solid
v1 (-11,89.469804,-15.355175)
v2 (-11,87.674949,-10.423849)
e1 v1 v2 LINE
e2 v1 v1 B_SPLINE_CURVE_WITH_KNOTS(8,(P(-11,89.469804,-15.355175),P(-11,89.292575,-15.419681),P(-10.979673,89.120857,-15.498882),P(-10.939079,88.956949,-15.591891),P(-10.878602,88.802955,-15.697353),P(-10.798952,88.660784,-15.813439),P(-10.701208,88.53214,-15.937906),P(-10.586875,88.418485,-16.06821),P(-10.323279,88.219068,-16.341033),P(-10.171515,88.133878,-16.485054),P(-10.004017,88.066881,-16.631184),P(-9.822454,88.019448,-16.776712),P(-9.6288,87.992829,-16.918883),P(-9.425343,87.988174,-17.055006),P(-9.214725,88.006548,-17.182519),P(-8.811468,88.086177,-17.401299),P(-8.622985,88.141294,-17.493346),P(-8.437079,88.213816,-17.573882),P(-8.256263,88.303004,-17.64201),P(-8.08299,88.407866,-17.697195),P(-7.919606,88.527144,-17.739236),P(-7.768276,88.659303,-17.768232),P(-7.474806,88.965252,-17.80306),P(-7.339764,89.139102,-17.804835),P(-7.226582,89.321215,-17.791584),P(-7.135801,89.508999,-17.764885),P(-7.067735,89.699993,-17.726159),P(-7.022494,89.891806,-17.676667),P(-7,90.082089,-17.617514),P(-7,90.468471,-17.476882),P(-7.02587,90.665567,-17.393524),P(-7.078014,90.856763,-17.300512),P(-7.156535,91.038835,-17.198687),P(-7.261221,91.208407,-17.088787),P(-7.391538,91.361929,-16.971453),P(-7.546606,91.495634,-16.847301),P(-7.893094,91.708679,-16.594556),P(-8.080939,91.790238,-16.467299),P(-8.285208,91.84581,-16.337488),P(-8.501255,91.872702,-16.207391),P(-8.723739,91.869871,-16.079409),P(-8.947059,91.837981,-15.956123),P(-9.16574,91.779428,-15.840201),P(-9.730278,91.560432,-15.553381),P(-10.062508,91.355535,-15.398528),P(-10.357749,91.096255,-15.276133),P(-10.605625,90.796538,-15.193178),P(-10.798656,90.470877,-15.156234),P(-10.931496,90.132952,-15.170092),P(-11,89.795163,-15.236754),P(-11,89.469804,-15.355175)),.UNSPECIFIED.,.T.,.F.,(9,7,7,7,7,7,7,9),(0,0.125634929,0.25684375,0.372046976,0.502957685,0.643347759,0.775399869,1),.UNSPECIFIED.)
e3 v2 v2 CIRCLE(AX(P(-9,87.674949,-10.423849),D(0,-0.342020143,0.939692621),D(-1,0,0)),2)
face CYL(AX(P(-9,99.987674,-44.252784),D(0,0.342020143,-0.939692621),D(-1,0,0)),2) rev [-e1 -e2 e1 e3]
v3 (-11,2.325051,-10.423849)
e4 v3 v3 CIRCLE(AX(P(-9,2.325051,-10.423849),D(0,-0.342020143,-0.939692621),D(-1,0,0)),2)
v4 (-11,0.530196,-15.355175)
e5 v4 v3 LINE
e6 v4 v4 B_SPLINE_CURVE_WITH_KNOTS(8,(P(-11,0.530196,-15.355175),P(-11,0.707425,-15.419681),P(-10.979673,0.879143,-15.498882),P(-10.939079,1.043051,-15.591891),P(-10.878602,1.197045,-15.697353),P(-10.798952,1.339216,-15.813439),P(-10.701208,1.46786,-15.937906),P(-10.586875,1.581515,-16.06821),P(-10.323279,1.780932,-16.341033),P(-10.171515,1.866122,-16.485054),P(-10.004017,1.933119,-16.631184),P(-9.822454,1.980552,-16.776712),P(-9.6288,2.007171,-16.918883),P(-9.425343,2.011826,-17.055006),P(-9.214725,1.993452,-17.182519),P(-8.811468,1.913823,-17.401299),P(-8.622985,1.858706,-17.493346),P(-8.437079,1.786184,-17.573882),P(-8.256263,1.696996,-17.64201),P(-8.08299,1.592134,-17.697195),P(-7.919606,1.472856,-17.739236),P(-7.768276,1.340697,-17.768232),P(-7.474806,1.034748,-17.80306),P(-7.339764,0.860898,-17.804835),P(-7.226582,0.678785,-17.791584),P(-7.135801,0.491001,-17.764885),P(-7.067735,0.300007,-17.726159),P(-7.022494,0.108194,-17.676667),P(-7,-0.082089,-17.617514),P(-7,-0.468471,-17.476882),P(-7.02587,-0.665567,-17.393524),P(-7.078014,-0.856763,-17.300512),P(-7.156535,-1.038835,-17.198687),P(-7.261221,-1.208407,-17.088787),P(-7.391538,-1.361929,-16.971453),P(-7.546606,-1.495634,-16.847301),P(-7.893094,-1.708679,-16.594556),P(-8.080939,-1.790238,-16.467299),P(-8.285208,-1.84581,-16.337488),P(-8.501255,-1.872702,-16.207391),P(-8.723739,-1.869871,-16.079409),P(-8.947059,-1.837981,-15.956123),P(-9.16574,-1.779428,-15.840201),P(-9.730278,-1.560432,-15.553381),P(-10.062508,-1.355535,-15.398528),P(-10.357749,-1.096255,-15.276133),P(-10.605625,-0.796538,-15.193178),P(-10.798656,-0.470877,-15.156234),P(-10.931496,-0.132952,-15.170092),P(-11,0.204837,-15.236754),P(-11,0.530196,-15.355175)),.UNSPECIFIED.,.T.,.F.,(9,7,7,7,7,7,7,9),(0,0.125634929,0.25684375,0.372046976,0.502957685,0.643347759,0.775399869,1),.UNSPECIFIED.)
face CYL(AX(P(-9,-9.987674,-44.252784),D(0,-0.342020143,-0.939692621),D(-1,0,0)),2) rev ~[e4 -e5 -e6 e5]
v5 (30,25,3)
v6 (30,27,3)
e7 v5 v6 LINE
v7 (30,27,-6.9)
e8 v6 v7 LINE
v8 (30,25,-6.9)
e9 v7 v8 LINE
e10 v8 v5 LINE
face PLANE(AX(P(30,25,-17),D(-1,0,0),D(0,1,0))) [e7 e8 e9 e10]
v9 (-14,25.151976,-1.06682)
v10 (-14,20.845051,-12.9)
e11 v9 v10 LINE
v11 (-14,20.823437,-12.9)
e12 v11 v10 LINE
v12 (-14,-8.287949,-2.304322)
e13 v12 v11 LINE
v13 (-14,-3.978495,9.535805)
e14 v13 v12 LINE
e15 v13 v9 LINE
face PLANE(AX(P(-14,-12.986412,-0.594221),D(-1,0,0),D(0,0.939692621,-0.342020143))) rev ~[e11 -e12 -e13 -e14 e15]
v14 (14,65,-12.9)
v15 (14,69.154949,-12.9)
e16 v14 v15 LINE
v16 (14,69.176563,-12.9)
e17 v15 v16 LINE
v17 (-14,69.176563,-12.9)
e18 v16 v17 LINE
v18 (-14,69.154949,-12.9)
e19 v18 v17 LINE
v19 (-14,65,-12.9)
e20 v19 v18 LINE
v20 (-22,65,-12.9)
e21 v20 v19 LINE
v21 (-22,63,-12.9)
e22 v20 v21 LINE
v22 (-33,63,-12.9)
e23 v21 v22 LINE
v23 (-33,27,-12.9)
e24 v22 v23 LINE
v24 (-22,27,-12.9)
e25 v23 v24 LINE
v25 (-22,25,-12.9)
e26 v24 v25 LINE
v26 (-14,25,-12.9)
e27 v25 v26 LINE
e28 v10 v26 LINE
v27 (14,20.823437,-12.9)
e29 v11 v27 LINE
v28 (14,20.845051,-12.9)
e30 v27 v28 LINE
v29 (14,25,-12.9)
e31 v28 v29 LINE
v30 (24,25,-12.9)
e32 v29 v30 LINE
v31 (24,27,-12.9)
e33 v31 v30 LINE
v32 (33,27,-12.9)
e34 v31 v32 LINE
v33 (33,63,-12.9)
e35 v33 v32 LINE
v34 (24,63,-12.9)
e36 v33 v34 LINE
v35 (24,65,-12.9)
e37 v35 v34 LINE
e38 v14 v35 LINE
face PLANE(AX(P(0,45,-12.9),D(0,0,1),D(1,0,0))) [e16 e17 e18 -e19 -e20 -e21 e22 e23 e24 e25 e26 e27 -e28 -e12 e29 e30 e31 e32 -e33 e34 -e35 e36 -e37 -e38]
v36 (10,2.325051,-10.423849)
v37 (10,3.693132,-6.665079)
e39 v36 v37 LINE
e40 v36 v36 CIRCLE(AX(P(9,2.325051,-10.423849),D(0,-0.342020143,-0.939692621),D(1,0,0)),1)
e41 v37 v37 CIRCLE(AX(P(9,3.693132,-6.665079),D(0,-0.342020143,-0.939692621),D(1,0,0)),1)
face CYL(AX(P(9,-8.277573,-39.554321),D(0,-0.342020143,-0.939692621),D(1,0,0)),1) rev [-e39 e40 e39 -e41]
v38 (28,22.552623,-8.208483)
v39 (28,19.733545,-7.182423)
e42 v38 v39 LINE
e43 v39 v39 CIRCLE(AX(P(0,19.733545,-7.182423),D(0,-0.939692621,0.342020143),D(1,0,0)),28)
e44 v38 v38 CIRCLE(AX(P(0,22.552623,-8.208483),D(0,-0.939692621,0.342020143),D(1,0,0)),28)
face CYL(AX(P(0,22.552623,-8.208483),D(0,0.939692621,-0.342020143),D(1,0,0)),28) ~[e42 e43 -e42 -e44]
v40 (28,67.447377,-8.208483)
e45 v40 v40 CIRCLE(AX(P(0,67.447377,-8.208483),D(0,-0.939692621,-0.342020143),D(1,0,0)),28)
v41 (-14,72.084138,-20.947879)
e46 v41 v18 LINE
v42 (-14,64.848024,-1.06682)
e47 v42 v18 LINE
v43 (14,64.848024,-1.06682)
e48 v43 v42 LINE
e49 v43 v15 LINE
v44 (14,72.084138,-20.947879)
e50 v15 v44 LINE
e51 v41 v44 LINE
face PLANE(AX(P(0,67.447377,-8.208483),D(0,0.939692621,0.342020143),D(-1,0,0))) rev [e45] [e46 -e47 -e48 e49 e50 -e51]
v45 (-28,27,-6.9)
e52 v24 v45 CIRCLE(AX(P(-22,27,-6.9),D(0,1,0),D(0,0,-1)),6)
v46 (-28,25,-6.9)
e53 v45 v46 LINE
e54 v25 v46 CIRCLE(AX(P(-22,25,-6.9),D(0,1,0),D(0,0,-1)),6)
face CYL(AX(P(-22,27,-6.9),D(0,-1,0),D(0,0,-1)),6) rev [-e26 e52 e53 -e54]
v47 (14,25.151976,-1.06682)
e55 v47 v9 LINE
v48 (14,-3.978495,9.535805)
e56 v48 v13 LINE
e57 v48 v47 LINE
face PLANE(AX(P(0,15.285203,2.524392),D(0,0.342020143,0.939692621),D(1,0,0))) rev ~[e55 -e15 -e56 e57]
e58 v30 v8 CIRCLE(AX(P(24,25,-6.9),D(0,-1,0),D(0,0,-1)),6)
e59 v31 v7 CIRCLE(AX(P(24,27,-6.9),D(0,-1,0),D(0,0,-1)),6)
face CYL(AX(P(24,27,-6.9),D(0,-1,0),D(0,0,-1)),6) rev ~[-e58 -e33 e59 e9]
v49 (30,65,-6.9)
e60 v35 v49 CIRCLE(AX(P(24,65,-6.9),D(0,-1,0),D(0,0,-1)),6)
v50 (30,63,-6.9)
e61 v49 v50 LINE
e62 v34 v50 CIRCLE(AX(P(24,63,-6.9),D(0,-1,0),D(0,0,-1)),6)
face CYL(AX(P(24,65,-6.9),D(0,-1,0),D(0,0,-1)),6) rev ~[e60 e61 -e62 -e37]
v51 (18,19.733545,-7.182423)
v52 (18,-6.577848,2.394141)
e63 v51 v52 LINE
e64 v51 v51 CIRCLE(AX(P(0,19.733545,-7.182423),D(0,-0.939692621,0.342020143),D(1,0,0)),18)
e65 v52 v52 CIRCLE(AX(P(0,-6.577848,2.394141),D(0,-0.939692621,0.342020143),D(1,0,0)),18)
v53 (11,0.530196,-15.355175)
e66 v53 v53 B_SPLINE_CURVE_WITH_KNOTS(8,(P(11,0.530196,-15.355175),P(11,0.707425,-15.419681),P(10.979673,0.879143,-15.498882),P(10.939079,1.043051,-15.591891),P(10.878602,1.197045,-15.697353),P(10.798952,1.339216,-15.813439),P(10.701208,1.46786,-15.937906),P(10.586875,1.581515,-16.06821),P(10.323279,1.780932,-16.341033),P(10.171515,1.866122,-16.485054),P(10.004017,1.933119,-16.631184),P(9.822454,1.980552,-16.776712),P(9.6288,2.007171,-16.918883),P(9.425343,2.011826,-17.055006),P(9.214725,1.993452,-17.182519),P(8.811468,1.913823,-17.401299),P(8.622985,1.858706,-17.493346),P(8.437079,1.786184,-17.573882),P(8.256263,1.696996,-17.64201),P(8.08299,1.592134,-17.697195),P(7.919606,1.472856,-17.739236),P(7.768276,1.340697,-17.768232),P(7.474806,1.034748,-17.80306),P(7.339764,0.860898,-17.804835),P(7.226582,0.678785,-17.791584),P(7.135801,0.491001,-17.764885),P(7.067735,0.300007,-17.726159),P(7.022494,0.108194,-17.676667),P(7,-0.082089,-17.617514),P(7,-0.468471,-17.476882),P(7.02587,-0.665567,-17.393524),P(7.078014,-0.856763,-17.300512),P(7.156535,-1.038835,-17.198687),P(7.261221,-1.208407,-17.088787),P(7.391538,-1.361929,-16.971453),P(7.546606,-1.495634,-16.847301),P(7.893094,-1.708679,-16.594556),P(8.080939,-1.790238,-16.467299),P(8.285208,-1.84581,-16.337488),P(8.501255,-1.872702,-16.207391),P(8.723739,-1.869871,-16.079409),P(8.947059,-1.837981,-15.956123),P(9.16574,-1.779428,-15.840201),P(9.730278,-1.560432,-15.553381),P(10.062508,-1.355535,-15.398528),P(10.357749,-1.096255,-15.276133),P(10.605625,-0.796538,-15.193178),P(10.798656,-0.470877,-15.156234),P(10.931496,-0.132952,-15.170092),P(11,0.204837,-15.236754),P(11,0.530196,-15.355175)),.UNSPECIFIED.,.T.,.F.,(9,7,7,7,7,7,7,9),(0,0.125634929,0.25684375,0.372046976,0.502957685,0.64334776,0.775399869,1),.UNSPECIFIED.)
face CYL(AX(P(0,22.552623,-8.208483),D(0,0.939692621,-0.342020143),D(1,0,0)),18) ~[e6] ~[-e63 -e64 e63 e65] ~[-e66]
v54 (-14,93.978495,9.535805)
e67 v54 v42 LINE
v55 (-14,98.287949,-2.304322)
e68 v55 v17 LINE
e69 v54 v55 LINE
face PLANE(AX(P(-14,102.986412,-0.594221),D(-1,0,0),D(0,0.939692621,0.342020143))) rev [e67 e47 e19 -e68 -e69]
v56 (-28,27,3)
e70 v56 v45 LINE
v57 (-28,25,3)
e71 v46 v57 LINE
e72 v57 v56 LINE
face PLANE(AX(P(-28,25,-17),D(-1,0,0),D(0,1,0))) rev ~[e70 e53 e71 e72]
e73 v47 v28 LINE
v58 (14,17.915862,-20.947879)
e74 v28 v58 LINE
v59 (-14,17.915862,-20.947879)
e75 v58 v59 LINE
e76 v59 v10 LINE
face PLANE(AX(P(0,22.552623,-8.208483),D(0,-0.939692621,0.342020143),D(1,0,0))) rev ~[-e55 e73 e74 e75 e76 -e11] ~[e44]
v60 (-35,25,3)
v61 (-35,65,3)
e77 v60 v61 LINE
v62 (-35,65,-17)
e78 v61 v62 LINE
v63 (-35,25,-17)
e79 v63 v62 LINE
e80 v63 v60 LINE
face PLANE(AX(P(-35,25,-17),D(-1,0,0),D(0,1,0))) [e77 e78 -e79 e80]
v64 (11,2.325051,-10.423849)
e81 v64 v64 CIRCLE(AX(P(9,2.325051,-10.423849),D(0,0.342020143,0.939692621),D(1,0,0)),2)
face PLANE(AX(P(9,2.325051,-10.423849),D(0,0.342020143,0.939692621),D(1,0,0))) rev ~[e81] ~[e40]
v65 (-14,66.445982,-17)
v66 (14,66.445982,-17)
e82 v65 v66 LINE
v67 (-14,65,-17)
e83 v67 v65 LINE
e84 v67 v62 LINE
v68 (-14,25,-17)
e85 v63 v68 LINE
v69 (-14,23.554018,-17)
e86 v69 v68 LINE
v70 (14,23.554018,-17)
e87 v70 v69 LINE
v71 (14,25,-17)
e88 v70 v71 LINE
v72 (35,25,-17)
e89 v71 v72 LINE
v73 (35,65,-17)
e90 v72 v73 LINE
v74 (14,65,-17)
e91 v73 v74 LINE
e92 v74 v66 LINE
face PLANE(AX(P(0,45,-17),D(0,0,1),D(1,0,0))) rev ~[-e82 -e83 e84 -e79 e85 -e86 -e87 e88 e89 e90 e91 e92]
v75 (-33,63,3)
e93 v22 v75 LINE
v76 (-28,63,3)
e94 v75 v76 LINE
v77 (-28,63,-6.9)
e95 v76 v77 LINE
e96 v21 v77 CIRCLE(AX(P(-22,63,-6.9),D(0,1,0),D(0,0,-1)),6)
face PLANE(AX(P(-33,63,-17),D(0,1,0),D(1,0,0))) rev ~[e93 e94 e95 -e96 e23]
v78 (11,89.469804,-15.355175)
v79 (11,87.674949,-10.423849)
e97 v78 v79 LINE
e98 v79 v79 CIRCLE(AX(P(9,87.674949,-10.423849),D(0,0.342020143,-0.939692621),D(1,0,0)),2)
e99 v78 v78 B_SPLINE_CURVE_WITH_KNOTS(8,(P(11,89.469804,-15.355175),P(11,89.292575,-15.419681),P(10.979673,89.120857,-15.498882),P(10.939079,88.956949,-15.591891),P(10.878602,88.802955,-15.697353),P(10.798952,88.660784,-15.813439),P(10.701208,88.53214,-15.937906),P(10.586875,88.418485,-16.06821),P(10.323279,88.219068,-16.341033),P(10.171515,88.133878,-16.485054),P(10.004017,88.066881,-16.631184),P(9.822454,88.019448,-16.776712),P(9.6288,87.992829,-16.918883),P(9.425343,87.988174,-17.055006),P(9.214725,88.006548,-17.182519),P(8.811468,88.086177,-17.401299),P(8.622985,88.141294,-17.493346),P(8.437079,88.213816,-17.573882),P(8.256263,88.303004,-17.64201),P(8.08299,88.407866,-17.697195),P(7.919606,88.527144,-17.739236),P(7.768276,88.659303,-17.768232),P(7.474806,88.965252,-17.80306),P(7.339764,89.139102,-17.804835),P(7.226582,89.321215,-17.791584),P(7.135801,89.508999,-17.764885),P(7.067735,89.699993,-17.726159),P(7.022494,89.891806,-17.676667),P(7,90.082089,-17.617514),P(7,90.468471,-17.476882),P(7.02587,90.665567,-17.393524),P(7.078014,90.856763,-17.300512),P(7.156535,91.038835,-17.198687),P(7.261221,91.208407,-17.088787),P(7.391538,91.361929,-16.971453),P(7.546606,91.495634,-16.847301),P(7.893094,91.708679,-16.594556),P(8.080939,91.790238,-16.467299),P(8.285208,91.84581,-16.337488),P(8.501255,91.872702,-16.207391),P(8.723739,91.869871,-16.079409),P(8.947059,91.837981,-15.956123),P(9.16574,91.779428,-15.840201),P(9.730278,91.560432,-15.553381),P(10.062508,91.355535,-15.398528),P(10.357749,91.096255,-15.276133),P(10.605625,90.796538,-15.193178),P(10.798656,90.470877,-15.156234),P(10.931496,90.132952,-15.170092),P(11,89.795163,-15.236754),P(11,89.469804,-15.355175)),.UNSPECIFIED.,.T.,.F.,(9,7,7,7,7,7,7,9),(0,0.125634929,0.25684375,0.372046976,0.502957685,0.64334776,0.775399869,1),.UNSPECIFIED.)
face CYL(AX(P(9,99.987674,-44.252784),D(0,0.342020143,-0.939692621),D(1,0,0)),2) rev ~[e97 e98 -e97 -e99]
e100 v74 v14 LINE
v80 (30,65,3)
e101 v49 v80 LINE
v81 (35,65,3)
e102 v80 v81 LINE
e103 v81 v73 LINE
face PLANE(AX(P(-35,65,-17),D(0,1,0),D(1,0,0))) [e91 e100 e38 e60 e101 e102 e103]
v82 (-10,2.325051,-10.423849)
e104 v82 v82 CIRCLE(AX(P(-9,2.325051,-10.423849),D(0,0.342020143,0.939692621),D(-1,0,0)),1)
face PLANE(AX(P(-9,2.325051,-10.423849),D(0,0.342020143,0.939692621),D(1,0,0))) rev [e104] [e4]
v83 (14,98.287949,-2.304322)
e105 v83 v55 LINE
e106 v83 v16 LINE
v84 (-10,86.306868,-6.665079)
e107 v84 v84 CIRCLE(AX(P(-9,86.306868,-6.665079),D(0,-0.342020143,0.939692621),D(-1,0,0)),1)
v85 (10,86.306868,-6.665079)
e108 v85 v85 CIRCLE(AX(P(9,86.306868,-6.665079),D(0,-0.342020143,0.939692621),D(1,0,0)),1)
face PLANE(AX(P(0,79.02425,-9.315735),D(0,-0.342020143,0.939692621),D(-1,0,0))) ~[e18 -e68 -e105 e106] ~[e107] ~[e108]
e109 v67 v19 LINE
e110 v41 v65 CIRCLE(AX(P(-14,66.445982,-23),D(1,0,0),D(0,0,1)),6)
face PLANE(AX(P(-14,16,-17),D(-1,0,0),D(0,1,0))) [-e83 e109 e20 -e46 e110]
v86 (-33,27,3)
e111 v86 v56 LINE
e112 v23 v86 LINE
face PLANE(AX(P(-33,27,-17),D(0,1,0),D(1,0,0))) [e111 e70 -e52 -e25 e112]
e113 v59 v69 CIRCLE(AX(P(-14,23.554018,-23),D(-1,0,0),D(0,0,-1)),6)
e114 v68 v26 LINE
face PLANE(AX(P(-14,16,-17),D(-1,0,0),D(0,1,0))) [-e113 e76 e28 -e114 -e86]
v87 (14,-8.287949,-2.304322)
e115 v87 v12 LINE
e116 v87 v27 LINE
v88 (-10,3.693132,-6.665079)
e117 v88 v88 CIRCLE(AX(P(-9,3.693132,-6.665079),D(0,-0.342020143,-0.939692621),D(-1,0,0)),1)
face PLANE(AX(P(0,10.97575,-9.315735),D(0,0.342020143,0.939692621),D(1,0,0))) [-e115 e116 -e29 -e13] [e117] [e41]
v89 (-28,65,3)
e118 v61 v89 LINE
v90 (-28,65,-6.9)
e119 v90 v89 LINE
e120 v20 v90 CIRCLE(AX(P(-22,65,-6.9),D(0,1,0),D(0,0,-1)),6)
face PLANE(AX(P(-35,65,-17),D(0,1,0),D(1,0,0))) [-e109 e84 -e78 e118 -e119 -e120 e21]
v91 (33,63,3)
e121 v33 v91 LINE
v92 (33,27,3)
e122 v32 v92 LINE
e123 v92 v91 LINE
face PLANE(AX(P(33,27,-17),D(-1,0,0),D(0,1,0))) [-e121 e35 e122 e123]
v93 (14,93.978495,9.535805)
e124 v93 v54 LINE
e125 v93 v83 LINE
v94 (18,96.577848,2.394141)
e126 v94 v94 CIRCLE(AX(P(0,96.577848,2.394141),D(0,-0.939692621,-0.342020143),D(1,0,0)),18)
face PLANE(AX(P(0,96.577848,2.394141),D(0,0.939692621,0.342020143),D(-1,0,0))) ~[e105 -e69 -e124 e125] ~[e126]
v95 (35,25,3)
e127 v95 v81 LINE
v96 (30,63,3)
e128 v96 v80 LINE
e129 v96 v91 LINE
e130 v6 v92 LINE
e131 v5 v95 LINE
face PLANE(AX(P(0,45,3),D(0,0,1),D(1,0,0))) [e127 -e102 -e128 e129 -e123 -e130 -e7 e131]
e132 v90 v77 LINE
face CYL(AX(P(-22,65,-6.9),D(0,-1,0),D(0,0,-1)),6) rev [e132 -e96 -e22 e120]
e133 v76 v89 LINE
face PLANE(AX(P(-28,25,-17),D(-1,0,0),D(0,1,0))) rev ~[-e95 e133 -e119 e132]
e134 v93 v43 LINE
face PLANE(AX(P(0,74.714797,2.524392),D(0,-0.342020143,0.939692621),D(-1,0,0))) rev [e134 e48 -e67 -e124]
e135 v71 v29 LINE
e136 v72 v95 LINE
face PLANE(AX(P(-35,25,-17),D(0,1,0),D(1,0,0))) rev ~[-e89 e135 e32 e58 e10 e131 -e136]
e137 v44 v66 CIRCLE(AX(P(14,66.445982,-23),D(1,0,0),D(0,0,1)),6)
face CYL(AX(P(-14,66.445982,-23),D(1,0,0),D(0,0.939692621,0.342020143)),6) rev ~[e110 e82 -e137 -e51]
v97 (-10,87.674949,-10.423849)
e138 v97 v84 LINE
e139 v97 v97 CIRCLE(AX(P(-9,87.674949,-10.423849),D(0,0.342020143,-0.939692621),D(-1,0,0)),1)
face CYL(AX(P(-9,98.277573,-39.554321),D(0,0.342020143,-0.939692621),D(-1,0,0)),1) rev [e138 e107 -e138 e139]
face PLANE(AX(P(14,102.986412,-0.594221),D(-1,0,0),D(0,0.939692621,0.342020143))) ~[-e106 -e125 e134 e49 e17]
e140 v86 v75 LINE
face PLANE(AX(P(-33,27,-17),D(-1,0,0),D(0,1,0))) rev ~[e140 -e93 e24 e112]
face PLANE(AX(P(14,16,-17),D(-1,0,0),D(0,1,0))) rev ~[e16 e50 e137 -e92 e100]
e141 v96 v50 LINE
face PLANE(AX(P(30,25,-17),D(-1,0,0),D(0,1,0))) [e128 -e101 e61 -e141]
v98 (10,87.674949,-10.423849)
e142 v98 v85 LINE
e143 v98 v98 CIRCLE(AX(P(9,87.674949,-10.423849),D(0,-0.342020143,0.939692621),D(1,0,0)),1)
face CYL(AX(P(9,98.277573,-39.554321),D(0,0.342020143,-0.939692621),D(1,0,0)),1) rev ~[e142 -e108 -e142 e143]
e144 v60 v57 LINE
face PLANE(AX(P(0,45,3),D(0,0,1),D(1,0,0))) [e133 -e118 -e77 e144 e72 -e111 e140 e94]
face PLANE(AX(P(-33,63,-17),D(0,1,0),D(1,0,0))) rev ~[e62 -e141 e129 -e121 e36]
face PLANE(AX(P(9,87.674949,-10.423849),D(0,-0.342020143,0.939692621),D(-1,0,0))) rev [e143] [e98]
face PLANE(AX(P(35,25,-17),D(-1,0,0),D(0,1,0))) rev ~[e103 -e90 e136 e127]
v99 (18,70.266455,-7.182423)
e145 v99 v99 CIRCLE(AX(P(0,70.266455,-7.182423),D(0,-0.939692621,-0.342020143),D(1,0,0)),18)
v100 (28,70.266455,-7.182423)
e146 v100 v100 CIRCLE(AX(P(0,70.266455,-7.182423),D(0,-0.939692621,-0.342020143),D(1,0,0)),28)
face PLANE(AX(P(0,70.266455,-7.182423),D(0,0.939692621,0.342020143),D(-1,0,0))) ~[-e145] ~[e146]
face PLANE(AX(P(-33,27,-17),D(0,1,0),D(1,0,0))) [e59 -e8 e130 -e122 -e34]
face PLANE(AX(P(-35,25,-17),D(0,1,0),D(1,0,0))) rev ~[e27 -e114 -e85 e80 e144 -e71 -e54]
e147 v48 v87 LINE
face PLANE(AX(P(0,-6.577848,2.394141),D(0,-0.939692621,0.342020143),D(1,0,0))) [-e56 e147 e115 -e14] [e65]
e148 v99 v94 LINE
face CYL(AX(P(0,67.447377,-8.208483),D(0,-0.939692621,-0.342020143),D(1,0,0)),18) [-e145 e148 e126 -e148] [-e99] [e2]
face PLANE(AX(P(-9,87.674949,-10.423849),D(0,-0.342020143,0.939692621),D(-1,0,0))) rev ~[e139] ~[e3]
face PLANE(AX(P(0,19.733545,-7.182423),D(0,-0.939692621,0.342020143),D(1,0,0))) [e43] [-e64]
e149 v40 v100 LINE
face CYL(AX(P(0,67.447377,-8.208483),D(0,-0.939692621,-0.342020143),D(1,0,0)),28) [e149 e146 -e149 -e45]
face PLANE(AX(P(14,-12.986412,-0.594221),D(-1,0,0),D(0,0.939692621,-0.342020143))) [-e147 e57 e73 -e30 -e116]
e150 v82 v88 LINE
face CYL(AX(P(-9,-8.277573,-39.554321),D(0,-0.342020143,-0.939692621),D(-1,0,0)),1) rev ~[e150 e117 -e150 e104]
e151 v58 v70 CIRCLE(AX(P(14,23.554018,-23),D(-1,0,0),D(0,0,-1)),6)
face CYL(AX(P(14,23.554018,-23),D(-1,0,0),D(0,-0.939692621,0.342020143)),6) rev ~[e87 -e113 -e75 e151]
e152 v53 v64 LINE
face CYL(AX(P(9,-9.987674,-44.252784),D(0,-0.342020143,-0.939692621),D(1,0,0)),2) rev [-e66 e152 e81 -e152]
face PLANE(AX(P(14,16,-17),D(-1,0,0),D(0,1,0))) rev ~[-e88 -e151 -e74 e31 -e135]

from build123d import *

# Parameters (mm, degrees)
BOX005_W               = 66
BOX005_H               = 36
BOX005_DEPTH           = 20
BOX006_W               = 58
BOX006_H               = 40
BOX006_DEPTH           = 20
BOX004_W               = 70
BOX004_H               = 40
BOX004_DEPTH           = 20
BOX002_W               = 28
BOX002_H               = 58
BOX002_DEPTH           = 4.1
BOX003_W               = 70
BOX003_H               = 40
BOX003_DEPTH           = 4.1
CYLINDER007_R          = 1
CYLINDER007_DEPTH      = 36
CYLINDER006_R          = 2
CYLINDER006_DEPTH      = 36
BOX_W                  = 16
BOX_H                  = 26
BOX_DEPTH              = 12
FILLET006_R            = 1
BOX001_W               = 28
BOX001_H               = 51
BOX001_DEPTH           = 12.6
CYLINDER005_R          = 18
CYLINDER005_DEPTH      = 31
CYLINDER005_ROLL_ANGLE = 90.0000000001
CYLINDER008_R          = 18
CYLINDER008_DEPTH      = 3
CYLINDER008_ROLL_ANGLE = 90.0000000001
CYLINDER009_R          = 28
CYLINDER009_DEPTH      = 3
CYLINDER009_ROLL_ANGLE = 90.0000000001
FUSION005_ROLL_ANGLE   = -20
FILLET_R               = 6
FILLET008_R            = 6


with BuildPart() as cubo005:
    # Box005 → Box005 (new body)
    with BuildSketch(Plane(origin=(-33, 27, -17), x_dir=(1, 0, 0), z_dir=(0, 0, 1))):
        with Locations((33, 18)):
            Rectangle(BOX005_W, BOX005_H)
    extrude(amount=BOX005_DEPTH)


with BuildPart() as fusion006:
    # Box006 → Box006 (new body)
    with BuildSketch(Plane(origin=(-28, 25, -17), x_dir=(1, 0, 0), z_dir=(0, 0, 1))):
        with Locations((29, 20)):
            Rectangle(BOX006_W, BOX006_H)
    extrude(amount=BOX006_DEPTH)

    # Fusion006: union Cubo005
    add(cubo005.part)


with BuildPart() as cut009:
    # Box004 → Box004 (new body)
    with BuildSketch(Plane(origin=(-35, 25, -17), x_dir=(1, 0, 0), z_dir=(0, 0, 1))):
        with Locations((35, 20)):
            Rectangle(BOX004_W, BOX004_H)
    extrude(amount=BOX004_DEPTH)

    # Cut009: cut Fusion006
    add(fusion006.part, mode=Mode.SUBTRACT)


with BuildPart() as cubo002:
    # Box002 → Box002 (new body)
    with BuildSketch(Plane(origin=(-14, 16, -17), x_dir=(1, 0, 0), z_dir=(0, 0, 1))):
        with Locations((14, 29)):
            Rectangle(BOX002_W, BOX002_H)
    extrude(amount=BOX002_DEPTH)


with BuildPart() as fusion007:
    # Box003 → Box003 (new body)
    with BuildSketch(Plane(origin=(-35, 25, -17), x_dir=(1, 0, 0), z_dir=(0, 0, 1))):
        with Locations((35, 20)):
            Rectangle(BOX003_W, BOX003_H)
    extrude(amount=BOX003_DEPTH)

    # Fusion007: union Cut009, Cubo002
    add(cut009.part)
    add(cubo002.part)


with BuildPart() as cilindro007:
    # Cylinder007 → Cylinder007 (new body)
    with BuildSketch(Plane(origin=(9, 5.75, -40), x_dir=(1, 0, 0), z_dir=(0, 0, 1))):
        Circle(CYLINDER007_R)
    extrude(amount=CYLINDER007_DEPTH)


with BuildPart() as fusion003:
    # Cylinder006 → Cylinder006 (new body)
    with BuildSketch(Plane(origin=(9, 5.75, -45), x_dir=(1, 0, 0), z_dir=(0, 0, 1))):
        Circle(CYLINDER006_R)
    extrude(amount=CYLINDER006_DEPTH)

    # Fusion003: union Cilindro007
    add(cilindro007.part)


with BuildPart() as fusion004:
    # Part__Mirroring: instance of Fusion003
    add(fusion003.part.mirror(Plane(origin=(0, 0, 0), x_dir=(0, -1, 0), z_dir=(1, 0, 0))))

    # Fusion004: union Fusion003
    add(fusion003.part)


with BuildPart() as fillet006:
    # Box → Box (new body)
    with BuildSketch(Plane(origin=(-8, -8, -5), x_dir=(1, 0, 0), z_dir=(0, 0, 1))):
        with Locations((8, 13)):
            Rectangle(BOX_W, BOX_H)
    extrude(amount=BOX_DEPTH)

    # Fillet006
    fillet006_edges = [fillet006.edges().sort_by_distance(p)[0] for p in [
        (-8, 5, 7),
        (8, 5, 7),
    ]]
    fillet(fillet006_edges, radius=FILLET006_R)


with BuildPart() as fusion002:
    # Box001 → Box001 (new body)
    with BuildSketch(Plane(origin=(-14, -12, -5), x_dir=(1, 0, 0), z_dir=(0, 0, 1))):
        with Locations((14, 25.5)):
            Rectangle(BOX001_W, BOX001_H)
    extrude(amount=BOX001_DEPTH)

    # Fusion002: union Fillet006
    add(fillet006.part)


with BuildPart() as cut004:
    # Cylinder005 → Cylinder005 (new body)
    with BuildSketch(Plane.XY):
        Circle(CYLINDER005_R)
    extrude(amount=CYLINDER005_DEPTH)


with BuildPart() as cut004_1:
    # Cylinder005 roll: moved
    add(cut004.part.rotate(Axis((0, 0, 0), (1, 0, 0)), CYLINDER005_ROLL_ANGLE))


with BuildPart() as cut004_2:
    # Cylinder005 placement: moved
    add(cut004_1.part.moved(Location((0, 24, 0))))

    # Cut003: cut Fusion002
    add(fusion002.part, mode=Mode.SUBTRACT)

    # Cut004: cut Fusion004
    add(fusion004.part, mode=Mode.SUBTRACT)


with BuildPart() as cilindro008:
    # Cylinder008 → Cylinder008 (new body)
    with BuildSketch(Plane.XY):
        Circle(CYLINDER008_R)
    extrude(amount=CYLINDER008_DEPTH)


with BuildPart() as cilindro008_1:
    # Cylinder008 roll: moved
    add(cilindro008.part.rotate(Axis((0, 0, 0), (1, 0, 0)), CYLINDER008_ROLL_ANGLE))


with BuildPart() as cilindro008_2:
    # Cylinder008 placement: moved
    add(cilindro008_1.part.moved(Location((0, 24, 0))))


with BuildPart() as fusion005:
    # Cylinder009 → Cylinder009 (new body)
    with BuildSketch(Plane.XY):
        Circle(CYLINDER009_R)
    extrude(amount=CYLINDER009_DEPTH)


with BuildPart() as fusion005_1:
    # Cylinder009 roll: moved
    add(fusion005.part.rotate(Axis((0, 0, 0), (1, 0, 0)), CYLINDER009_ROLL_ANGLE))


with BuildPart() as fusion005_2:
    # Cylinder009 placement: moved
    add(fusion005_1.part.moved(Location((0, 24, 0))))

    # Cut005: cut Cilindro008
    add(cilindro008_2.part, mode=Mode.SUBTRACT)

    # Fusion005: union Cut004
    add(cut004_2.part)


with BuildPart() as fusion005_3:
    # Fusion005 roll: moved
    add(fusion005_2.part.rotate(Axis((0, 0, 0), (1, 0, 0)), FUSION005_ROLL_ANGLE))


with BuildPart() as fusion005_4:
    # Fusion005 placement: moved
    add(fusion005_3.part)


with BuildPart() as part_mirroring004:
    # Part__Mirroring004: instance of Fusion005
    add(fusion005_4.part.mirror(Plane(origin=(0, 45, 0), x_dir=(1, 0, 0), z_dir=(0, 1, 0))))


with BuildPart() as fillet008:
    # Fusion008 base: copy of Fusion005
    add(fusion005_4.part)

    # Fusion008: union Fusion007, Part__Mirroring004
    add(fusion007.part)
    add(part_mirroring004.part)

    # Fillet
    fillet_edges = [fillet008.edges().sort_by_distance(p)[0] for p in [
        (0, 19.352773, -17),
        (0, 70.647227, -17),
    ]]
    fillet(fillet_edges, radius=FILLET_R)

    # Fillet008
    fillet008_edges = [fillet008.edges().sort_by_distance(p)[0] for p in [
        (-28, 26, -12.9),
        (-28, 64, -12.9),
        (30, 64, -12.9),
        (30, 26, -12.9),
    ]]
    fillet(fillet008_edges, radius=FILLET008_R)


solid = fillet008.part
